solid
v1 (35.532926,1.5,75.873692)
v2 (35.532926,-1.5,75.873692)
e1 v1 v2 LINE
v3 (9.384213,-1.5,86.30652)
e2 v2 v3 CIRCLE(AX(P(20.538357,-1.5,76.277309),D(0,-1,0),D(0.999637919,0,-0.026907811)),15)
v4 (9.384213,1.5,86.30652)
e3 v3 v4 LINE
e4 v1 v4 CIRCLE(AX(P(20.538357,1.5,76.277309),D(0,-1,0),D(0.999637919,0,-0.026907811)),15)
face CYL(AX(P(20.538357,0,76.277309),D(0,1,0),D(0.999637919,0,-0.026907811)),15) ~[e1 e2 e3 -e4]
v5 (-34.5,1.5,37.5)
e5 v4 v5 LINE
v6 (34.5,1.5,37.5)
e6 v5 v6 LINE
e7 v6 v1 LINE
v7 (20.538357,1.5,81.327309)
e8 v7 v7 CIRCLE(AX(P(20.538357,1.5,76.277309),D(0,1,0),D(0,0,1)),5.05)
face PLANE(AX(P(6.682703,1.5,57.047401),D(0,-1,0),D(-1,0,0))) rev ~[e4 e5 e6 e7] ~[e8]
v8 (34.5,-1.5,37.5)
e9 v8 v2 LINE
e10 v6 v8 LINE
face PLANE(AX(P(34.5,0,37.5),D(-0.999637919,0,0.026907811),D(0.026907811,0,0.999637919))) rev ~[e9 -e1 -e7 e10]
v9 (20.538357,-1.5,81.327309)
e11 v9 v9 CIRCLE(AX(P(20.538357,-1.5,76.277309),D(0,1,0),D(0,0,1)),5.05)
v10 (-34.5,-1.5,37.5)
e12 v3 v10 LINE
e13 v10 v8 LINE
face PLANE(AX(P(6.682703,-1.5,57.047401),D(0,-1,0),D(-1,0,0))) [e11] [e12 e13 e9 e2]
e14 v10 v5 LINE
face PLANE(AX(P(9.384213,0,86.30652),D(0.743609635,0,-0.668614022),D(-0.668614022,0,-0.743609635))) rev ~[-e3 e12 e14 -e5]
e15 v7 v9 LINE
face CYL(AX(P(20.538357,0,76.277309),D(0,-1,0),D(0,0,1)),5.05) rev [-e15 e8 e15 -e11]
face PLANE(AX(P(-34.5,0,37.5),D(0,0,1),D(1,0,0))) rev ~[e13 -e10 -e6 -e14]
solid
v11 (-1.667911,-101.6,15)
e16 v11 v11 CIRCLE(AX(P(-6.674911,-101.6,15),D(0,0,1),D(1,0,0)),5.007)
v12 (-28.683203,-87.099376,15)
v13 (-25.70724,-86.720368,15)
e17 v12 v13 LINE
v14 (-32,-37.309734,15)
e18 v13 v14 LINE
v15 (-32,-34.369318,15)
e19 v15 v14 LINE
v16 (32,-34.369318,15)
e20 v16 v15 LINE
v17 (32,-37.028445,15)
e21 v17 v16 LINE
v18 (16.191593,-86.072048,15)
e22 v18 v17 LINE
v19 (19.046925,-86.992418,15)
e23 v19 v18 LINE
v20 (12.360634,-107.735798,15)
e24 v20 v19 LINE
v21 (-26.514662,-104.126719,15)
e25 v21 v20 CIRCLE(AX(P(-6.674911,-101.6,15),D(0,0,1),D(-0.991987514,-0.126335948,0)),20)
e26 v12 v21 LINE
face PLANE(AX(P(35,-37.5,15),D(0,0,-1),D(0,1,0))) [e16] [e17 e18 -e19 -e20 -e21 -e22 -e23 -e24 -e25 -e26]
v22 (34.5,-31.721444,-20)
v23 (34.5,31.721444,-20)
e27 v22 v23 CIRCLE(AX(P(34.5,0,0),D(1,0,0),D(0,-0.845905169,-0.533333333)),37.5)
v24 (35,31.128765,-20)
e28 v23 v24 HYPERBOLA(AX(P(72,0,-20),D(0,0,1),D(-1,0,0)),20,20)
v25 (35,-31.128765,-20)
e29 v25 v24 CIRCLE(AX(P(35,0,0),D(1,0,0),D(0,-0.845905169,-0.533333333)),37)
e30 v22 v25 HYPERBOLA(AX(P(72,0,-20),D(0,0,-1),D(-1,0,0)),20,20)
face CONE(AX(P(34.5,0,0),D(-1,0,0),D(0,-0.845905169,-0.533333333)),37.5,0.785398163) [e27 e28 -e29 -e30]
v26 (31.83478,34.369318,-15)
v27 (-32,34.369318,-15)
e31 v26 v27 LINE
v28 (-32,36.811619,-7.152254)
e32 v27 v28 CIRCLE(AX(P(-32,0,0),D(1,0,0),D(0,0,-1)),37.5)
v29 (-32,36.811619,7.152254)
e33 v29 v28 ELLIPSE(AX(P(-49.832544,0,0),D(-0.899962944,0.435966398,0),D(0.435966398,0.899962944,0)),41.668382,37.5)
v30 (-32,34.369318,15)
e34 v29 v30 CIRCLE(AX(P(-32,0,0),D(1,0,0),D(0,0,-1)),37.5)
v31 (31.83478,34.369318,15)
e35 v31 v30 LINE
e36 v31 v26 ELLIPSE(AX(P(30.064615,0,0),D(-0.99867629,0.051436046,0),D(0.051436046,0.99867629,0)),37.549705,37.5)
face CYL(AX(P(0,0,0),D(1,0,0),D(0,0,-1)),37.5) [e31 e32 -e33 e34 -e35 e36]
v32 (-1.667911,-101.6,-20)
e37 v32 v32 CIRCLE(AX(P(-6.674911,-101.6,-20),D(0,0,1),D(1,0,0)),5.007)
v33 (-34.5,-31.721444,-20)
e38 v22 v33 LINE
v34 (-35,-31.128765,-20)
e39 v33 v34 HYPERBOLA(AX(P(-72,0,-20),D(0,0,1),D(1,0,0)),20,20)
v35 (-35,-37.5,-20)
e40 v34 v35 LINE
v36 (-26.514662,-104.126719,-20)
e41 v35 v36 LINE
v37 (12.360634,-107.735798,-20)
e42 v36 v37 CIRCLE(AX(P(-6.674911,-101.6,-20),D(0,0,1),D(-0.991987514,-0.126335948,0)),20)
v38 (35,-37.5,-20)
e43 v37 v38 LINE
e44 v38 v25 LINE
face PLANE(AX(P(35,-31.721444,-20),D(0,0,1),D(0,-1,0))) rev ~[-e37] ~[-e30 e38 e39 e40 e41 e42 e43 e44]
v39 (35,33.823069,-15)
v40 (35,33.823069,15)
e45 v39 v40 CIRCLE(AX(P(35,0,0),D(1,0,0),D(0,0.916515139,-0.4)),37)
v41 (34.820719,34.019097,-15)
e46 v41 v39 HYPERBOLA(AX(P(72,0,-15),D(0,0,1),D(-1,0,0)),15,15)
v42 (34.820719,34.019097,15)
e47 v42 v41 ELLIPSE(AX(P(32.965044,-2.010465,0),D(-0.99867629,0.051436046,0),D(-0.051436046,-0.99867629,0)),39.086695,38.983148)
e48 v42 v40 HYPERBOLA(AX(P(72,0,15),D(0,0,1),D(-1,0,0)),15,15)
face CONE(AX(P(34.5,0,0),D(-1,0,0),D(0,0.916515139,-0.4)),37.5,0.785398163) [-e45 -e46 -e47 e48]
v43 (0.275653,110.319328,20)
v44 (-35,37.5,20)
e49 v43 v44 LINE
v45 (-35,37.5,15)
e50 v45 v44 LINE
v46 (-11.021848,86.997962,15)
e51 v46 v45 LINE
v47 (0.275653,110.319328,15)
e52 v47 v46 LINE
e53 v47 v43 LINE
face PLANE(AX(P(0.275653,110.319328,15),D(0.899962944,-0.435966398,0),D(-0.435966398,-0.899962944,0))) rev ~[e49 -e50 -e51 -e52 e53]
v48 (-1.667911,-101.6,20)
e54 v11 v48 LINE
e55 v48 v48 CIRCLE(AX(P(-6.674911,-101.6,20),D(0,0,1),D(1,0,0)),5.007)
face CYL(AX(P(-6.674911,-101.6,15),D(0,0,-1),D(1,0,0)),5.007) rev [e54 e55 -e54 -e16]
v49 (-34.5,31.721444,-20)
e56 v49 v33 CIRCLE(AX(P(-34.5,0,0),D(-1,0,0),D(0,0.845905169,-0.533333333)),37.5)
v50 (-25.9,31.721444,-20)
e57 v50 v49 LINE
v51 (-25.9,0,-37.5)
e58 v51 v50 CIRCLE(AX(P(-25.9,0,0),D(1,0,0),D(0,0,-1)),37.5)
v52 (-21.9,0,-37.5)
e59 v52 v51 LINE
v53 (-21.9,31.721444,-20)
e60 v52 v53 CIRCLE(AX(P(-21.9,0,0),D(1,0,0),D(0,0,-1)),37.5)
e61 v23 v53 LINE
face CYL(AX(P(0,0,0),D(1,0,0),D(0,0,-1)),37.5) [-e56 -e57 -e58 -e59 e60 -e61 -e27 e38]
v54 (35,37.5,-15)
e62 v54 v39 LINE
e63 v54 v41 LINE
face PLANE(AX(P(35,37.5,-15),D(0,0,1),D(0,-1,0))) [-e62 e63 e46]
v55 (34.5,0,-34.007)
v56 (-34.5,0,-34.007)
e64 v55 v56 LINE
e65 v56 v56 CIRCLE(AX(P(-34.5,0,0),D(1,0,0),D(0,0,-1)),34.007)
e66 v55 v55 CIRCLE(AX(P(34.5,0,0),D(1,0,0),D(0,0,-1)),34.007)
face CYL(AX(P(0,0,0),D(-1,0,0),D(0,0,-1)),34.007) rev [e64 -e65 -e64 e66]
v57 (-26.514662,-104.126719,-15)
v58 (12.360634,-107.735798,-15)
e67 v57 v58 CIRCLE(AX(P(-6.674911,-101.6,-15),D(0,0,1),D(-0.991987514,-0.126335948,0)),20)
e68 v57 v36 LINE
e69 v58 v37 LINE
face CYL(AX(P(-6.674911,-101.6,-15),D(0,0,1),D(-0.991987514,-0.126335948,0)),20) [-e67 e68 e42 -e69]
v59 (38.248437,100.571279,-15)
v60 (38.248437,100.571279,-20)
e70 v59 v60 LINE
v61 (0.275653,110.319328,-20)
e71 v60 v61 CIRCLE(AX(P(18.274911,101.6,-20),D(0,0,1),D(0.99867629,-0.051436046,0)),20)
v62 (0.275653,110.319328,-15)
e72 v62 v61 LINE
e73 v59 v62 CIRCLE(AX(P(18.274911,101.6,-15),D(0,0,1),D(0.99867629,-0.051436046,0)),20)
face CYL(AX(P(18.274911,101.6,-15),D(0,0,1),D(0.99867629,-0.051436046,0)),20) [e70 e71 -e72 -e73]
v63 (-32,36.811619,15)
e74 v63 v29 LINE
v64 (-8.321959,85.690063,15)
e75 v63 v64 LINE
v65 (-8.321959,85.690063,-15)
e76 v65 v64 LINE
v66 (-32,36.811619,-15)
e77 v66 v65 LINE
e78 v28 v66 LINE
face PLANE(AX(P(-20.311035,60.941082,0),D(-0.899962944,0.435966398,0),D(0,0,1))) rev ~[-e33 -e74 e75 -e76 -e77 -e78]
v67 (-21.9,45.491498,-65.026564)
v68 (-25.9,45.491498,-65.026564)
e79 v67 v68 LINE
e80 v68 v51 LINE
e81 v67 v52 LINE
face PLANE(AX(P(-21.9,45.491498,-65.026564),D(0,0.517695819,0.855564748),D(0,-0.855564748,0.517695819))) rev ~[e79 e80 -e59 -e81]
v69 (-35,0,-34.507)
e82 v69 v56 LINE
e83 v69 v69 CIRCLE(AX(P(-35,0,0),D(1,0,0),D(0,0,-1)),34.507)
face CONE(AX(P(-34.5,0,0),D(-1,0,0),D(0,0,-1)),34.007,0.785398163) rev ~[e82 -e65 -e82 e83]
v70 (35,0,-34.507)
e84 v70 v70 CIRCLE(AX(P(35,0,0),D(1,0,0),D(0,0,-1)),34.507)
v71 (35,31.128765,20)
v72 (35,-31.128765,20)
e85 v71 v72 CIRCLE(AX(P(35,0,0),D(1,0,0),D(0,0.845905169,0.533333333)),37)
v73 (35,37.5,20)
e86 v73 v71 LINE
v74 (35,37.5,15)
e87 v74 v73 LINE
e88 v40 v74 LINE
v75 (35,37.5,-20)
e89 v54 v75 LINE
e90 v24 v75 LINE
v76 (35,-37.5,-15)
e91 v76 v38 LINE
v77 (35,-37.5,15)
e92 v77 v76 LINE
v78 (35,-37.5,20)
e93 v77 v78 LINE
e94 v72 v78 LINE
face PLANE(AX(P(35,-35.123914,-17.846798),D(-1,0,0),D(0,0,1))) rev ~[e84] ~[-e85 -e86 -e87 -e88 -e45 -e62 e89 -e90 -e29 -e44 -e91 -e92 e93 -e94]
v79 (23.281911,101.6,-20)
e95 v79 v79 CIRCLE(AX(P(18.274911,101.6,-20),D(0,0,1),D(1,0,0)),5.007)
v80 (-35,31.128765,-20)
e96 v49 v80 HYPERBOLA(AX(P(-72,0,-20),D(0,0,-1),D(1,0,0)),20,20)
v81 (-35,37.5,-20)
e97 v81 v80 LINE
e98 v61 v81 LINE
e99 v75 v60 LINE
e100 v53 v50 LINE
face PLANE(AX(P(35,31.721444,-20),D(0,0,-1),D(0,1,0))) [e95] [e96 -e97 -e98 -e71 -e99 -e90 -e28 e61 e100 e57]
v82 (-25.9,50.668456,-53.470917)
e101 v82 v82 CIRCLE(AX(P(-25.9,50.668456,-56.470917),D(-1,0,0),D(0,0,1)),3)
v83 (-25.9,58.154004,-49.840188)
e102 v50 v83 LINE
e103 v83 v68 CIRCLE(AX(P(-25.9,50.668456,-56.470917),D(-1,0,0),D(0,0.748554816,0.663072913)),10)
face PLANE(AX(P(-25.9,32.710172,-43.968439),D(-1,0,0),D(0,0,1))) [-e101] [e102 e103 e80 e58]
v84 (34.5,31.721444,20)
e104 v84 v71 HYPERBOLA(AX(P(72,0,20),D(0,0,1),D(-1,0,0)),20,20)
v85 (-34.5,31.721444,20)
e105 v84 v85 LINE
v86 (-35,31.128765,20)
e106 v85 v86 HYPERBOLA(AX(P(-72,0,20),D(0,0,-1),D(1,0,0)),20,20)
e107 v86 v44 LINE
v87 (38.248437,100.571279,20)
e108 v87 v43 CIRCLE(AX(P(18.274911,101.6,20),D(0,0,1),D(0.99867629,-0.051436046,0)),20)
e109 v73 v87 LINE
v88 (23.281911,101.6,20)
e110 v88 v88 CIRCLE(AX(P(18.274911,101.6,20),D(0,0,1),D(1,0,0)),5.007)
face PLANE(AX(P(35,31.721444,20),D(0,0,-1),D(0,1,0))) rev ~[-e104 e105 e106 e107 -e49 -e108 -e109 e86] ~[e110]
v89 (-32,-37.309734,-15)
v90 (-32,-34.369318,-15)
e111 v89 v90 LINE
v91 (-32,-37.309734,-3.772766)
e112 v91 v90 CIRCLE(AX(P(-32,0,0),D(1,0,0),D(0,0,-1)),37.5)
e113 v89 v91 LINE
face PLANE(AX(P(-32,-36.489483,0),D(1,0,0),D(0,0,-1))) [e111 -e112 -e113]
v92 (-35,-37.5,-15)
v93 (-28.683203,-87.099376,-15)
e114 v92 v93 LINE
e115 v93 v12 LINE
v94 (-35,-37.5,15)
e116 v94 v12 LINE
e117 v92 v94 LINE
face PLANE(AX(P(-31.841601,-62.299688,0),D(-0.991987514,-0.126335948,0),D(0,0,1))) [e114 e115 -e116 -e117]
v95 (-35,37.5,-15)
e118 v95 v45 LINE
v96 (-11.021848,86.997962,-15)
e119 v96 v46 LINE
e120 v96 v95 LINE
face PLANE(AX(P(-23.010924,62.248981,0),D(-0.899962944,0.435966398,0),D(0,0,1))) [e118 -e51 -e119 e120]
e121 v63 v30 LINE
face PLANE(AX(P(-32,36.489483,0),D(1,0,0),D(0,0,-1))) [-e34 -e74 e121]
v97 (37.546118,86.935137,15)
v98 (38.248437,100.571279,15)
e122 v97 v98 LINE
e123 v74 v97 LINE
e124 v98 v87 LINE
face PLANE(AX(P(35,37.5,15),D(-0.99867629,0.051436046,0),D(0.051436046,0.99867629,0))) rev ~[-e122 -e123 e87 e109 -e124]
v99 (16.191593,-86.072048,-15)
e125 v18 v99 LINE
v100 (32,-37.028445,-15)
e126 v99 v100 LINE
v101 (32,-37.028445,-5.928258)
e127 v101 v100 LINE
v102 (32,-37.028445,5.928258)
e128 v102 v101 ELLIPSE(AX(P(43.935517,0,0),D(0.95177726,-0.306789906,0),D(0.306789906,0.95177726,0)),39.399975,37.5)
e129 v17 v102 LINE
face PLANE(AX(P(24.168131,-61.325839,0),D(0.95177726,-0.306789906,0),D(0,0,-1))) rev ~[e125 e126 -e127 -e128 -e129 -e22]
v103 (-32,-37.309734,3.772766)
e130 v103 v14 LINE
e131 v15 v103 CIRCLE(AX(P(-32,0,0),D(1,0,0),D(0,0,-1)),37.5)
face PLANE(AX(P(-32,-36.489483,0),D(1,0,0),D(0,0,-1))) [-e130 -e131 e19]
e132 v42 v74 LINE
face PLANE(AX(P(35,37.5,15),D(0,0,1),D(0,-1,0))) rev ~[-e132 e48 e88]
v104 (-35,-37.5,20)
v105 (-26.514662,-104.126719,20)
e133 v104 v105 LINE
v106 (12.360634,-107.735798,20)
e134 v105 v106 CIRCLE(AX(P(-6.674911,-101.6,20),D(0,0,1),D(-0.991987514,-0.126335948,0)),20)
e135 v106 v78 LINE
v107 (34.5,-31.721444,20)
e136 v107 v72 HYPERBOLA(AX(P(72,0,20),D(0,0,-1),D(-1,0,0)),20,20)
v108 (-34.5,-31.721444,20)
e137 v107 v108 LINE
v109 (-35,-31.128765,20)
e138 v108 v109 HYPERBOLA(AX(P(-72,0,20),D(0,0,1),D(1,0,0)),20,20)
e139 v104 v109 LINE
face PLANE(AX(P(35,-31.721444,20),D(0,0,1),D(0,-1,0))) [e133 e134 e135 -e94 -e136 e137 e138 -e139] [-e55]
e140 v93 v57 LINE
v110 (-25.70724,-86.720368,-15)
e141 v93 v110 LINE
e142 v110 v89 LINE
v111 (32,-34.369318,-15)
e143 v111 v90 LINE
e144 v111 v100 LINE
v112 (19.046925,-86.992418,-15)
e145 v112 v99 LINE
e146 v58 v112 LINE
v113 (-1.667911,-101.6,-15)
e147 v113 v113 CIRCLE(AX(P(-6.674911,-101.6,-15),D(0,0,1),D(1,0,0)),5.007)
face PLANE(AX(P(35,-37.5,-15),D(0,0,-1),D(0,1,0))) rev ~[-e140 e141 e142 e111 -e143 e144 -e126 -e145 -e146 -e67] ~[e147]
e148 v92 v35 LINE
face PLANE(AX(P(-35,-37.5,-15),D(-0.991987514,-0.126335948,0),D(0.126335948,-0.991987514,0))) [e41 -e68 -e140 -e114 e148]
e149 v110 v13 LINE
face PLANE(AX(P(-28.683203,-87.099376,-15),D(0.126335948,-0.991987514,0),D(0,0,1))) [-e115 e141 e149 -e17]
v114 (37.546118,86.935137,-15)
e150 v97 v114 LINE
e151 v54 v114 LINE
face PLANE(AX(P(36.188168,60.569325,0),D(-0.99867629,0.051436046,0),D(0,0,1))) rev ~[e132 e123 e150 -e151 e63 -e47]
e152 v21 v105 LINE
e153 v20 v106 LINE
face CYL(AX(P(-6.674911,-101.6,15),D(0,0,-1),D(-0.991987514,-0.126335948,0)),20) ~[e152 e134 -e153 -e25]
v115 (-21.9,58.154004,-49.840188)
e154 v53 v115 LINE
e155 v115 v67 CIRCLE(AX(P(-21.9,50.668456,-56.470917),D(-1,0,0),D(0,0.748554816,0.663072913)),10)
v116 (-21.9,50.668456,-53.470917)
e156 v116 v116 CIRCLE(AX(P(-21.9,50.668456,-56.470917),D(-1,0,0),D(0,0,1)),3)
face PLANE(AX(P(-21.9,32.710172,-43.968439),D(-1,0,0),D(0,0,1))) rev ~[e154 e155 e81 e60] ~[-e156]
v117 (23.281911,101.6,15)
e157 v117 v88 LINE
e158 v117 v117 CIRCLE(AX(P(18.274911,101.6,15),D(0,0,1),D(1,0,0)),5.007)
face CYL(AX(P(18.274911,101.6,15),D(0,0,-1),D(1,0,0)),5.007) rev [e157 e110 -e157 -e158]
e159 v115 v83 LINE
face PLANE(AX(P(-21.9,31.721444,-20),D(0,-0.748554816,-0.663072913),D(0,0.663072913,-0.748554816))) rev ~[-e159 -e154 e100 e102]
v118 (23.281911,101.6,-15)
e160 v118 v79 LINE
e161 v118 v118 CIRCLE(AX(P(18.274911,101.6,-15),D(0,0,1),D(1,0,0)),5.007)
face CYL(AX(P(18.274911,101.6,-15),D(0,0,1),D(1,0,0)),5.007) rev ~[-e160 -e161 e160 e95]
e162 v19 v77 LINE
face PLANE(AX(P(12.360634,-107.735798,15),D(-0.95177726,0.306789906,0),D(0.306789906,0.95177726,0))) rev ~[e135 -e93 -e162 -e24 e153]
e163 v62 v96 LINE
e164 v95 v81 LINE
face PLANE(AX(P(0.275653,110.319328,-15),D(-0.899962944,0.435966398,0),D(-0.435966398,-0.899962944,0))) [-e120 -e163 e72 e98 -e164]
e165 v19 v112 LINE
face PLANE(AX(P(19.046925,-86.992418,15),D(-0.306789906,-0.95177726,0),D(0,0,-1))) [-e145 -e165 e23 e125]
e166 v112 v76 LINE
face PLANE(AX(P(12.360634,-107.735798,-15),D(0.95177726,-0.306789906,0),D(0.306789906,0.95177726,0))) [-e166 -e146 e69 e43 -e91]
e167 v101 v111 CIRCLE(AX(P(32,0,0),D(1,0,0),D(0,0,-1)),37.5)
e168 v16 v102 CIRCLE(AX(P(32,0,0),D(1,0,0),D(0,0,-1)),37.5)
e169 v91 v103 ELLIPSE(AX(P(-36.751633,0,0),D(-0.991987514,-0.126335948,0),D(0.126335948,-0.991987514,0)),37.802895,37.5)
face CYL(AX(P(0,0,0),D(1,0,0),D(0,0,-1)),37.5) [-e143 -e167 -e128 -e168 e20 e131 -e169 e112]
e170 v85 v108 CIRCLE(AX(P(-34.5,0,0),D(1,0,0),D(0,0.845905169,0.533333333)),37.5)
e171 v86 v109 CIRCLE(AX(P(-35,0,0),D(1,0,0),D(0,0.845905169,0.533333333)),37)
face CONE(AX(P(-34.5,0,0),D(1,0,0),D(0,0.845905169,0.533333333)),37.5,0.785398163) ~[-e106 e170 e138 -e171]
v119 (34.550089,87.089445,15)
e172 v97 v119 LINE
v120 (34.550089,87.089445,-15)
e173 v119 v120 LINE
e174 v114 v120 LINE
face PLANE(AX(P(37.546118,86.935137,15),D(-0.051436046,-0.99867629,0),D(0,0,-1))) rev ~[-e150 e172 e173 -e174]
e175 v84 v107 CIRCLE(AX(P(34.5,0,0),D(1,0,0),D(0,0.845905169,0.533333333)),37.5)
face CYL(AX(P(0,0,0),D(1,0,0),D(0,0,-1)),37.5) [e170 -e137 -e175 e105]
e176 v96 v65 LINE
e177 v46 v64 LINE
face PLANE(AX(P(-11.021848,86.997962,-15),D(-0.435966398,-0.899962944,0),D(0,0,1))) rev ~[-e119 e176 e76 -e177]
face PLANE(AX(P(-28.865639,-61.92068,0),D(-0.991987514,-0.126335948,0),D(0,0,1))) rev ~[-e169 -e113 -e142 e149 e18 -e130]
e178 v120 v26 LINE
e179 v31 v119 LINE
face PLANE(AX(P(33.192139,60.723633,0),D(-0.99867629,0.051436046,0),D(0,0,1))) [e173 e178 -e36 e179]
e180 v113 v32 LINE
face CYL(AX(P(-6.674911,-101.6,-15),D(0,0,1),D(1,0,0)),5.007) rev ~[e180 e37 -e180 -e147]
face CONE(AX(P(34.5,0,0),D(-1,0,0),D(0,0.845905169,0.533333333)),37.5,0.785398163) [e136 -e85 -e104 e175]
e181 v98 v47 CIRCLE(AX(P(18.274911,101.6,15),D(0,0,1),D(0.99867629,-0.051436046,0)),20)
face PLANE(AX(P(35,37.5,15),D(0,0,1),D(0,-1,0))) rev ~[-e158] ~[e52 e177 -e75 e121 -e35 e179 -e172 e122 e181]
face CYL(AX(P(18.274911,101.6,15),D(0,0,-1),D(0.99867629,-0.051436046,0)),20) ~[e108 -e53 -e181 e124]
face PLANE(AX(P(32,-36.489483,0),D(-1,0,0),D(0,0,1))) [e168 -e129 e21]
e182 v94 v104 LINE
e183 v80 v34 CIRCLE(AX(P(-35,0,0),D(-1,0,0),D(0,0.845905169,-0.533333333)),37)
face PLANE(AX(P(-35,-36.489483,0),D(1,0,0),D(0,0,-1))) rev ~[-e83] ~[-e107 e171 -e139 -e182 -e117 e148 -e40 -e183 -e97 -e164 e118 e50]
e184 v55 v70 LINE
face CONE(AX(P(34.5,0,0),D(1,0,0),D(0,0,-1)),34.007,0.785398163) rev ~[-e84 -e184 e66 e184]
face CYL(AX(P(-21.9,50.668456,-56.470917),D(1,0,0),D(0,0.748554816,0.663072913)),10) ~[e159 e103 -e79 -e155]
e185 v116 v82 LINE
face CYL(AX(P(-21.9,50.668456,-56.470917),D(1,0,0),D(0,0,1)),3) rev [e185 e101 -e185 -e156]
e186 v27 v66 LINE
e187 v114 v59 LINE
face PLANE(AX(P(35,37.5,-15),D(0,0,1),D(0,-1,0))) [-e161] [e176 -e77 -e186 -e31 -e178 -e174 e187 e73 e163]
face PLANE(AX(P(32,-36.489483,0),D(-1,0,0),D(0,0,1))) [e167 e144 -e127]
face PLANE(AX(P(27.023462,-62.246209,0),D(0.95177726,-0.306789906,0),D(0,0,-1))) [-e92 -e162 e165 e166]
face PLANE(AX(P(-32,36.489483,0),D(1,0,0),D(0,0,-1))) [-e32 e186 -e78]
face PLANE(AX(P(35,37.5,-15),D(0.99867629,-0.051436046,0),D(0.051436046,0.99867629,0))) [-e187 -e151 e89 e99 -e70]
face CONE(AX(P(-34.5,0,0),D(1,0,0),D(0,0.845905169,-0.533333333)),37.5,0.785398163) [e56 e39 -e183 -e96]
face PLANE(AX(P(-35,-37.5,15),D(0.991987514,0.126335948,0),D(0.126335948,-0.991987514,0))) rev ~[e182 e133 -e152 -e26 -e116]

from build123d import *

# Parameters (mm, degrees)
SKETCH1_R             = 37.5
SKETCH1_R_2           = 34.007
BOSS_EXTRUDE1_DEPTH   = 35
BOSS_EXTRUDE2_START   = 15
SKETCH4_R             = 5.007
BOSS_EXTRUDE2_DEPTH   = 5
BOSS_EXTRUDE2_2_DEPTH = 5
BOSS_EXTRUDE3_START   = -15
SKETCH5_R             = 5.007
BOSS_EXTRUDE3_DEPTH   = 5
BOSS_EXTRUDE3_2_DEPTH = 5
BOSS_EXTRUDE4_DEPTH   = 70
CHAMFER1_SIZE         = 0.5
CHAMFER2_SIZE         = 0.5
BOSS_EXTRUDE8_DEPTH   = 3
SKETCH13_W            = 30
SKETCH13_H            = 55
BOSS_EXTRUDE9_DEPTH   = 3
BOSS_EXTRUDE10_DEPTH  = 3
SKETCH15_W            = 30
SKETCH15_H            = 50
BOSS_EXTRUDE11_DEPTH  = 3
BOSS_EXTRUDE12_DEPTH  = 3
SKETCH17_W            = 30
SKETCH17_H            = 52
BOSS_EXTRUDE13_DEPTH  = 3
BOSS_EXTRUDE14_DEPTH  = 3
SKETCH22_R            = 5.05
BOSS_EXTRUDE16_DEPTH  = 1.5
BOSS_EXTRUDE17_START  = -4
SKETCH23_R            = 3
BOSS_EXTRUDE17_DEPTH  = 4


with BuildPart() as part:
    # Sketch1 → Boss-Extrude1 (new, symmetric)
    with BuildSketch(Plane(origin=(0, 0, 0), x_dir=(0, 0, -1), z_dir=(1, 0, 0))):
        Circle(SKETCH1_R)
        Circle(SKETCH1_R_2, mode=Mode.SUBTRACT)
    extrude(amount=BOSS_EXTRUDE1_DEPTH, both=True)



with BuildPart() as body_2:
    # Sketch4 → Boss-Extrude2 (new body)
    with BuildSketch(Plane.XY.offset(BOSS_EXTRUDE2_START)):
        with BuildLine():
            Line((0.275652512, 110.319327951), (-35, 37.5))
            Line((-35, 37.5), (35, 37.5))
            Line((35, 37.5), (38.248437197, 100.571279081))
            ThreePointArc((38.248437197, 100.571279081), (23.247893056, 120.971872737), (0.275652512, 110.319327951))
        make_face()
        with Locations((18.274911388, 101.6)):
            Circle(SKETCH4_R, mode=Mode.SUBTRACT)
    extrude(amount=BOSS_EXTRUDE2_DEPTH)


with BuildPart() as body_3:
    # Sketch4 → Boss-Extrude2 2 (new body)
    with BuildSketch(Plane.XY.offset(BOSS_EXTRUDE2_START)):
        with BuildLine():
            Line((-35, -37.5), (-26.514661672, -104.126718952))
            ThreePointArc((-26.514661672, -104.126718952), (-8.523708177, -121.514365429), (12.360633821, -107.735798124))
            Line((12.360633821, -107.735798124), (35, -37.5))
            Line((35, -37.5), (-35, -37.5))
        make_face()
        with Locations((-6.674911388, -101.6)):
            Circle(SKETCH4_R, mode=Mode.SUBTRACT)
    extrude(amount=BOSS_EXTRUDE2_2_DEPTH)


with BuildPart() as body_4:
    # Sketch5 → Boss-Extrude3 (new body)
    with BuildSketch(Plane.XY.offset(BOSS_EXTRUDE3_START)):
        with BuildLine():
            Line((35, -37.5), (-35, -37.5))
            Line((-35, -37.5), (-26.514661672, -104.126718952))
            ThreePointArc((-26.514661672, -104.126718952), (-8.523708177, -121.514365429), (12.360633821, -107.735798124))
            Line((12.360633821, -107.735798124), (35, -37.5))
        make_face()
        with Locations((-6.674911388, -101.6)):
            Circle(SKETCH5_R, mode=Mode.SUBTRACT)
    extrude(amount=-BOSS_EXTRUDE3_DEPTH)


with BuildPart() as body_5:
    # Sketch5 → Boss-Extrude3 2 (new body)
    with BuildSketch(Plane.XY.offset(BOSS_EXTRUDE3_START)):
        with BuildLine():
            Line((35, 37.5), (38.248437197, 100.571279081))
            ThreePointArc((38.248437197, 100.571279081), (23.247893056, 120.971872737), (0.275652512, 110.319327951))
            Line((0.275652512, 110.319327951), (-35, 37.5))
            Line((-35, 37.5), (35, 37.5))
        make_face()
        with Locations((18.274911388, 101.6)):
            Circle(SKETCH5_R, mode=Mode.SUBTRACT)
    extrude(amount=-BOSS_EXTRUDE3_2_DEPTH)


with BuildPart() as part_1:
    add(part.part)

    add(body_2.part)  # Boss-Extrude4 merges body 2

    add(body_3.part)  # Boss-Extrude4 merges body 3

    add(body_4.part)  # Boss-Extrude4 merges body 4

    add(body_5.part)  # Boss-Extrude4 merges body 5
    # Sketch6 → Boss-Extrude4 (add)
    with BuildSketch(Plane(origin=(35, 0, 0), x_dir=(0, 0, -1), z_dir=(1, 0, 0))):
        with BuildLine():
            Line((20, -37.5), (15, -37.5))
            Line((15, -37.5), (15, -34.369317712))
            ThreePointArc((15, -34.369317712), (17.550008803, -33.139812779), (20, -31.721443851))
            Line((20, -31.721443851), (20, -37.5))
        make_face()
        with BuildLine():
            Line((-20, -37.5), (-15, -37.5))
            Line((-15, -37.5), (-15, -34.369317712))
            ThreePointArc((-15, -34.369317712), (-17.550008803, -33.139812779), (-20, -31.721443851))
            Line((-20, -31.721443851), (-20, -37.5))
        make_face()
        with BuildLine():
            Line((20, 37.5), (15, 37.5))
            Line((15, 37.5), (15, 34.369317712))
            ThreePointArc((15, 34.369317712), (17.550008803, 33.139812779), (20, 31.721443851))
            Line((20, 31.721443851), (20, 37.5))
        make_face()
        with BuildLine():
            Line((-20, 37.5), (-15, 37.5))
            Line((-15, 37.5), (-15, 34.369317712))
            ThreePointArc((-15, 34.369317712), (-17.550008803, 33.139812779), (-20, 31.721443851))
            Line((-20, 31.721443851), (-20, 37.5))
        make_face()
    extrude(amount=-BOSS_EXTRUDE4_DEPTH)

    # Chamfer1
    chamfer1_edges = [part_1.edges().sort_by_distance(p)[0] for p in [
        (35, -37.5, 0),
        (35, 37.5, 0),
        (35, 0, 34.007),
        (35, 0, 37.5),
        (35, 0, -37.5),
    ]]
    chamfer(chamfer1_edges, length=CHAMFER1_SIZE)

    # Chamfer2
    chamfer2_edges = [part_1.edges().sort_by_distance(p)[0] for p in [
        (-35, 0, -37.5),
        (-35, -37.5, 0),
        (-35, 37.5, 0),
        (-35, 0, 34.007),
        (-35, 0, 37.5),
    ]]
    chamfer(chamfer2_edges, length=CHAMFER2_SIZE)

    # Sketch12 → Boss-Extrude8 (add)
    with BuildSketch(Plane(origin=(32.981103177, -1.69866608, 0), x_dir=(0, 0, -1), z_dir=(0.9986762904840372, -0.05143604597014742, 0))):
        with BuildLine():
            Line((-15, 39.250622502), (-15, 88.751284357))
            Line((-15, 88.751284357), (15, 88.751284357))
            Line((15, 88.751284357), (15, 39.250622502))
            Line((15, 39.250622502), (15, 35.578558741))
            add(Edge.make_bspline(
                [(15, 35.578558741), (0, 42.22201753), (-15, 35.578558741)],
                knots=[1.153374055, 1.153374055, 1.153374055, 1.988218598, 1.988218598, 1.988218598], degree=2, weights=[1, 0.914137001, 1]))
            Line((-15, 35.578558741), (-15, 39.250622502))
        make_face()
    extrude(amount=-BOSS_EXTRUDE8_DEPTH)

    # Sketch13 → Boss-Extrude9 (add)
    with BuildSketch(Plane(origin=(-43.060925602, 20.859877331, 0), x_dir=(0, 0, 1), z_dir=(-0.8999629437964011, 0.435966397550678, 0))):
        with Locations((0, 45.989786478)):
            Rectangle(SKETCH13_W, SKETCH13_H)
    extrude(amount=-BOSS_EXTRUDE9_DEPTH)

    # Sketch14 → Boss-Extrude10 (add)
    with BuildSketch(Plane.ZY.offset(35)):
        with BuildLine():
            Line((15, 37.5), (15, 33.823069051))
            ThreePointArc((15, 33.823069051), (0, 37), (-15, 33.823069051))
            Line((-15, 33.823069051), (-15, 37.5))
            Line((-15, 37.5), (15, 37.5))
        make_face()
    extrude(amount=-BOSS_EXTRUDE10_DEPTH)

    # Sketch15 → Boss-Extrude11 (add)
    with BuildSketch(Plane(origin=(-39.141011091, -4.984857829, 0), x_dir=(0, 0, 1), z_dir=(-0.9919875142057744, -0.1263359476152713, 0))):
        with Locations((0, -57.777773616)):
            Rectangle(SKETCH15_W, SKETCH15_H)
    extrude(amount=-BOSS_EXTRUDE11_DEPTH)

    # Sketch16 → Boss-Extrude12 (add)
    with BuildSketch(Plane.ZY.offset(35)):
        with BuildLine():
            Line((15, -37.5), (-15, -37.5))
            Line((-15, -37.5), (-15, -33.823069051))
            ThreePointArc((-15, -33.823069051), (0, -37), (15, -33.823069051))
            Line((15, -33.823069051), (15, -37.5))
        make_face()
    extrude(amount=-BOSS_EXTRUDE12_DEPTH)

    # Sketch17 → Boss-Extrude13 (add)
    with BuildSketch(Plane(origin=(42.655635488, -13.749349722, 0), x_dir=(0, 0, -1), z_dir=(0.9517772604145124, -0.30678990621897206, 0))):
        with Locations((0, -50.954000548)):
            Rectangle(SKETCH17_W, SKETCH17_H)
    extrude(amount=-BOSS_EXTRUDE13_DEPTH)

    # Sketch19 → Boss-Extrude14 (add)
    with BuildSketch(Plane(origin=(35, 0, 0), x_dir=(0, 0, -1), z_dir=(1, 0, 0))):
        with BuildLine():
            Line((-15, -37.5), (-15, -33.823069051))
            ThreePointArc((-15, -33.823069051), (0, -37), (15, -33.823069051))
            Line((15, -33.823069051), (15, -37.5))
            Line((15, -37.5), (-15, -37.5))
        make_face()
    extrude(amount=-BOSS_EXTRUDE14_DEPTH)

    # Sketch23 → Boss-Extrude17 (add)
    with BuildSketch(Plane.ZY.offset(25.9).offset(BOSS_EXTRUDE17_START)):
        with BuildLine():
            Line((-20, 31.721443851), (-49.840187884, 58.154004142))
            ThreePointArc((-49.840187884, 58.154004142), (-62.874907522, 58.34887951), (-65.026564496, 45.491497789))
            Line((-65.026564496, 45.491497789), (-37.5, 0))
            ThreePointArc((-37.5, 0), (-32.834813841, 18.114220933), (-20, 31.721443851))
        make_face()
        with Locations((-56.470917013, 50.668455984)):
            Circle(SKETCH23_R, mode=Mode.SUBTRACT)
    extrude(amount=BOSS_EXTRUDE17_DEPTH)


with BuildPart() as body_2_2:
    # Sketch22 → Boss-Extrude16 (new, symmetric)
    with BuildSketch(Plane(origin=(0, 0, 0), x_dir=(1, 0, 0), z_dir=(0, 1, 0))):
        with BuildLine():
            Line((-34.5, -37.5), (34.5, -37.5))
            Line((34.5, -37.5), (35.532926057, -75.873692154))
            ThreePointArc((35.532926057, -75.873692154), (26.096971037, -90.209351988), (9.384212743, -86.306519652))
            Line((9.384212743, -86.306519652), (-34.5, -37.5))
        make_face()
        with Locations(Location((20.538357267, -76.277309318, 0), (0, 0, 270))):
            Circle(SKETCH22_R, mode=Mode.SUBTRACT)
    extrude(amount=BOSS_EXTRUDE16_DEPTH, both=True)


solid = Compound([part_1.part, body_2_2.part])
